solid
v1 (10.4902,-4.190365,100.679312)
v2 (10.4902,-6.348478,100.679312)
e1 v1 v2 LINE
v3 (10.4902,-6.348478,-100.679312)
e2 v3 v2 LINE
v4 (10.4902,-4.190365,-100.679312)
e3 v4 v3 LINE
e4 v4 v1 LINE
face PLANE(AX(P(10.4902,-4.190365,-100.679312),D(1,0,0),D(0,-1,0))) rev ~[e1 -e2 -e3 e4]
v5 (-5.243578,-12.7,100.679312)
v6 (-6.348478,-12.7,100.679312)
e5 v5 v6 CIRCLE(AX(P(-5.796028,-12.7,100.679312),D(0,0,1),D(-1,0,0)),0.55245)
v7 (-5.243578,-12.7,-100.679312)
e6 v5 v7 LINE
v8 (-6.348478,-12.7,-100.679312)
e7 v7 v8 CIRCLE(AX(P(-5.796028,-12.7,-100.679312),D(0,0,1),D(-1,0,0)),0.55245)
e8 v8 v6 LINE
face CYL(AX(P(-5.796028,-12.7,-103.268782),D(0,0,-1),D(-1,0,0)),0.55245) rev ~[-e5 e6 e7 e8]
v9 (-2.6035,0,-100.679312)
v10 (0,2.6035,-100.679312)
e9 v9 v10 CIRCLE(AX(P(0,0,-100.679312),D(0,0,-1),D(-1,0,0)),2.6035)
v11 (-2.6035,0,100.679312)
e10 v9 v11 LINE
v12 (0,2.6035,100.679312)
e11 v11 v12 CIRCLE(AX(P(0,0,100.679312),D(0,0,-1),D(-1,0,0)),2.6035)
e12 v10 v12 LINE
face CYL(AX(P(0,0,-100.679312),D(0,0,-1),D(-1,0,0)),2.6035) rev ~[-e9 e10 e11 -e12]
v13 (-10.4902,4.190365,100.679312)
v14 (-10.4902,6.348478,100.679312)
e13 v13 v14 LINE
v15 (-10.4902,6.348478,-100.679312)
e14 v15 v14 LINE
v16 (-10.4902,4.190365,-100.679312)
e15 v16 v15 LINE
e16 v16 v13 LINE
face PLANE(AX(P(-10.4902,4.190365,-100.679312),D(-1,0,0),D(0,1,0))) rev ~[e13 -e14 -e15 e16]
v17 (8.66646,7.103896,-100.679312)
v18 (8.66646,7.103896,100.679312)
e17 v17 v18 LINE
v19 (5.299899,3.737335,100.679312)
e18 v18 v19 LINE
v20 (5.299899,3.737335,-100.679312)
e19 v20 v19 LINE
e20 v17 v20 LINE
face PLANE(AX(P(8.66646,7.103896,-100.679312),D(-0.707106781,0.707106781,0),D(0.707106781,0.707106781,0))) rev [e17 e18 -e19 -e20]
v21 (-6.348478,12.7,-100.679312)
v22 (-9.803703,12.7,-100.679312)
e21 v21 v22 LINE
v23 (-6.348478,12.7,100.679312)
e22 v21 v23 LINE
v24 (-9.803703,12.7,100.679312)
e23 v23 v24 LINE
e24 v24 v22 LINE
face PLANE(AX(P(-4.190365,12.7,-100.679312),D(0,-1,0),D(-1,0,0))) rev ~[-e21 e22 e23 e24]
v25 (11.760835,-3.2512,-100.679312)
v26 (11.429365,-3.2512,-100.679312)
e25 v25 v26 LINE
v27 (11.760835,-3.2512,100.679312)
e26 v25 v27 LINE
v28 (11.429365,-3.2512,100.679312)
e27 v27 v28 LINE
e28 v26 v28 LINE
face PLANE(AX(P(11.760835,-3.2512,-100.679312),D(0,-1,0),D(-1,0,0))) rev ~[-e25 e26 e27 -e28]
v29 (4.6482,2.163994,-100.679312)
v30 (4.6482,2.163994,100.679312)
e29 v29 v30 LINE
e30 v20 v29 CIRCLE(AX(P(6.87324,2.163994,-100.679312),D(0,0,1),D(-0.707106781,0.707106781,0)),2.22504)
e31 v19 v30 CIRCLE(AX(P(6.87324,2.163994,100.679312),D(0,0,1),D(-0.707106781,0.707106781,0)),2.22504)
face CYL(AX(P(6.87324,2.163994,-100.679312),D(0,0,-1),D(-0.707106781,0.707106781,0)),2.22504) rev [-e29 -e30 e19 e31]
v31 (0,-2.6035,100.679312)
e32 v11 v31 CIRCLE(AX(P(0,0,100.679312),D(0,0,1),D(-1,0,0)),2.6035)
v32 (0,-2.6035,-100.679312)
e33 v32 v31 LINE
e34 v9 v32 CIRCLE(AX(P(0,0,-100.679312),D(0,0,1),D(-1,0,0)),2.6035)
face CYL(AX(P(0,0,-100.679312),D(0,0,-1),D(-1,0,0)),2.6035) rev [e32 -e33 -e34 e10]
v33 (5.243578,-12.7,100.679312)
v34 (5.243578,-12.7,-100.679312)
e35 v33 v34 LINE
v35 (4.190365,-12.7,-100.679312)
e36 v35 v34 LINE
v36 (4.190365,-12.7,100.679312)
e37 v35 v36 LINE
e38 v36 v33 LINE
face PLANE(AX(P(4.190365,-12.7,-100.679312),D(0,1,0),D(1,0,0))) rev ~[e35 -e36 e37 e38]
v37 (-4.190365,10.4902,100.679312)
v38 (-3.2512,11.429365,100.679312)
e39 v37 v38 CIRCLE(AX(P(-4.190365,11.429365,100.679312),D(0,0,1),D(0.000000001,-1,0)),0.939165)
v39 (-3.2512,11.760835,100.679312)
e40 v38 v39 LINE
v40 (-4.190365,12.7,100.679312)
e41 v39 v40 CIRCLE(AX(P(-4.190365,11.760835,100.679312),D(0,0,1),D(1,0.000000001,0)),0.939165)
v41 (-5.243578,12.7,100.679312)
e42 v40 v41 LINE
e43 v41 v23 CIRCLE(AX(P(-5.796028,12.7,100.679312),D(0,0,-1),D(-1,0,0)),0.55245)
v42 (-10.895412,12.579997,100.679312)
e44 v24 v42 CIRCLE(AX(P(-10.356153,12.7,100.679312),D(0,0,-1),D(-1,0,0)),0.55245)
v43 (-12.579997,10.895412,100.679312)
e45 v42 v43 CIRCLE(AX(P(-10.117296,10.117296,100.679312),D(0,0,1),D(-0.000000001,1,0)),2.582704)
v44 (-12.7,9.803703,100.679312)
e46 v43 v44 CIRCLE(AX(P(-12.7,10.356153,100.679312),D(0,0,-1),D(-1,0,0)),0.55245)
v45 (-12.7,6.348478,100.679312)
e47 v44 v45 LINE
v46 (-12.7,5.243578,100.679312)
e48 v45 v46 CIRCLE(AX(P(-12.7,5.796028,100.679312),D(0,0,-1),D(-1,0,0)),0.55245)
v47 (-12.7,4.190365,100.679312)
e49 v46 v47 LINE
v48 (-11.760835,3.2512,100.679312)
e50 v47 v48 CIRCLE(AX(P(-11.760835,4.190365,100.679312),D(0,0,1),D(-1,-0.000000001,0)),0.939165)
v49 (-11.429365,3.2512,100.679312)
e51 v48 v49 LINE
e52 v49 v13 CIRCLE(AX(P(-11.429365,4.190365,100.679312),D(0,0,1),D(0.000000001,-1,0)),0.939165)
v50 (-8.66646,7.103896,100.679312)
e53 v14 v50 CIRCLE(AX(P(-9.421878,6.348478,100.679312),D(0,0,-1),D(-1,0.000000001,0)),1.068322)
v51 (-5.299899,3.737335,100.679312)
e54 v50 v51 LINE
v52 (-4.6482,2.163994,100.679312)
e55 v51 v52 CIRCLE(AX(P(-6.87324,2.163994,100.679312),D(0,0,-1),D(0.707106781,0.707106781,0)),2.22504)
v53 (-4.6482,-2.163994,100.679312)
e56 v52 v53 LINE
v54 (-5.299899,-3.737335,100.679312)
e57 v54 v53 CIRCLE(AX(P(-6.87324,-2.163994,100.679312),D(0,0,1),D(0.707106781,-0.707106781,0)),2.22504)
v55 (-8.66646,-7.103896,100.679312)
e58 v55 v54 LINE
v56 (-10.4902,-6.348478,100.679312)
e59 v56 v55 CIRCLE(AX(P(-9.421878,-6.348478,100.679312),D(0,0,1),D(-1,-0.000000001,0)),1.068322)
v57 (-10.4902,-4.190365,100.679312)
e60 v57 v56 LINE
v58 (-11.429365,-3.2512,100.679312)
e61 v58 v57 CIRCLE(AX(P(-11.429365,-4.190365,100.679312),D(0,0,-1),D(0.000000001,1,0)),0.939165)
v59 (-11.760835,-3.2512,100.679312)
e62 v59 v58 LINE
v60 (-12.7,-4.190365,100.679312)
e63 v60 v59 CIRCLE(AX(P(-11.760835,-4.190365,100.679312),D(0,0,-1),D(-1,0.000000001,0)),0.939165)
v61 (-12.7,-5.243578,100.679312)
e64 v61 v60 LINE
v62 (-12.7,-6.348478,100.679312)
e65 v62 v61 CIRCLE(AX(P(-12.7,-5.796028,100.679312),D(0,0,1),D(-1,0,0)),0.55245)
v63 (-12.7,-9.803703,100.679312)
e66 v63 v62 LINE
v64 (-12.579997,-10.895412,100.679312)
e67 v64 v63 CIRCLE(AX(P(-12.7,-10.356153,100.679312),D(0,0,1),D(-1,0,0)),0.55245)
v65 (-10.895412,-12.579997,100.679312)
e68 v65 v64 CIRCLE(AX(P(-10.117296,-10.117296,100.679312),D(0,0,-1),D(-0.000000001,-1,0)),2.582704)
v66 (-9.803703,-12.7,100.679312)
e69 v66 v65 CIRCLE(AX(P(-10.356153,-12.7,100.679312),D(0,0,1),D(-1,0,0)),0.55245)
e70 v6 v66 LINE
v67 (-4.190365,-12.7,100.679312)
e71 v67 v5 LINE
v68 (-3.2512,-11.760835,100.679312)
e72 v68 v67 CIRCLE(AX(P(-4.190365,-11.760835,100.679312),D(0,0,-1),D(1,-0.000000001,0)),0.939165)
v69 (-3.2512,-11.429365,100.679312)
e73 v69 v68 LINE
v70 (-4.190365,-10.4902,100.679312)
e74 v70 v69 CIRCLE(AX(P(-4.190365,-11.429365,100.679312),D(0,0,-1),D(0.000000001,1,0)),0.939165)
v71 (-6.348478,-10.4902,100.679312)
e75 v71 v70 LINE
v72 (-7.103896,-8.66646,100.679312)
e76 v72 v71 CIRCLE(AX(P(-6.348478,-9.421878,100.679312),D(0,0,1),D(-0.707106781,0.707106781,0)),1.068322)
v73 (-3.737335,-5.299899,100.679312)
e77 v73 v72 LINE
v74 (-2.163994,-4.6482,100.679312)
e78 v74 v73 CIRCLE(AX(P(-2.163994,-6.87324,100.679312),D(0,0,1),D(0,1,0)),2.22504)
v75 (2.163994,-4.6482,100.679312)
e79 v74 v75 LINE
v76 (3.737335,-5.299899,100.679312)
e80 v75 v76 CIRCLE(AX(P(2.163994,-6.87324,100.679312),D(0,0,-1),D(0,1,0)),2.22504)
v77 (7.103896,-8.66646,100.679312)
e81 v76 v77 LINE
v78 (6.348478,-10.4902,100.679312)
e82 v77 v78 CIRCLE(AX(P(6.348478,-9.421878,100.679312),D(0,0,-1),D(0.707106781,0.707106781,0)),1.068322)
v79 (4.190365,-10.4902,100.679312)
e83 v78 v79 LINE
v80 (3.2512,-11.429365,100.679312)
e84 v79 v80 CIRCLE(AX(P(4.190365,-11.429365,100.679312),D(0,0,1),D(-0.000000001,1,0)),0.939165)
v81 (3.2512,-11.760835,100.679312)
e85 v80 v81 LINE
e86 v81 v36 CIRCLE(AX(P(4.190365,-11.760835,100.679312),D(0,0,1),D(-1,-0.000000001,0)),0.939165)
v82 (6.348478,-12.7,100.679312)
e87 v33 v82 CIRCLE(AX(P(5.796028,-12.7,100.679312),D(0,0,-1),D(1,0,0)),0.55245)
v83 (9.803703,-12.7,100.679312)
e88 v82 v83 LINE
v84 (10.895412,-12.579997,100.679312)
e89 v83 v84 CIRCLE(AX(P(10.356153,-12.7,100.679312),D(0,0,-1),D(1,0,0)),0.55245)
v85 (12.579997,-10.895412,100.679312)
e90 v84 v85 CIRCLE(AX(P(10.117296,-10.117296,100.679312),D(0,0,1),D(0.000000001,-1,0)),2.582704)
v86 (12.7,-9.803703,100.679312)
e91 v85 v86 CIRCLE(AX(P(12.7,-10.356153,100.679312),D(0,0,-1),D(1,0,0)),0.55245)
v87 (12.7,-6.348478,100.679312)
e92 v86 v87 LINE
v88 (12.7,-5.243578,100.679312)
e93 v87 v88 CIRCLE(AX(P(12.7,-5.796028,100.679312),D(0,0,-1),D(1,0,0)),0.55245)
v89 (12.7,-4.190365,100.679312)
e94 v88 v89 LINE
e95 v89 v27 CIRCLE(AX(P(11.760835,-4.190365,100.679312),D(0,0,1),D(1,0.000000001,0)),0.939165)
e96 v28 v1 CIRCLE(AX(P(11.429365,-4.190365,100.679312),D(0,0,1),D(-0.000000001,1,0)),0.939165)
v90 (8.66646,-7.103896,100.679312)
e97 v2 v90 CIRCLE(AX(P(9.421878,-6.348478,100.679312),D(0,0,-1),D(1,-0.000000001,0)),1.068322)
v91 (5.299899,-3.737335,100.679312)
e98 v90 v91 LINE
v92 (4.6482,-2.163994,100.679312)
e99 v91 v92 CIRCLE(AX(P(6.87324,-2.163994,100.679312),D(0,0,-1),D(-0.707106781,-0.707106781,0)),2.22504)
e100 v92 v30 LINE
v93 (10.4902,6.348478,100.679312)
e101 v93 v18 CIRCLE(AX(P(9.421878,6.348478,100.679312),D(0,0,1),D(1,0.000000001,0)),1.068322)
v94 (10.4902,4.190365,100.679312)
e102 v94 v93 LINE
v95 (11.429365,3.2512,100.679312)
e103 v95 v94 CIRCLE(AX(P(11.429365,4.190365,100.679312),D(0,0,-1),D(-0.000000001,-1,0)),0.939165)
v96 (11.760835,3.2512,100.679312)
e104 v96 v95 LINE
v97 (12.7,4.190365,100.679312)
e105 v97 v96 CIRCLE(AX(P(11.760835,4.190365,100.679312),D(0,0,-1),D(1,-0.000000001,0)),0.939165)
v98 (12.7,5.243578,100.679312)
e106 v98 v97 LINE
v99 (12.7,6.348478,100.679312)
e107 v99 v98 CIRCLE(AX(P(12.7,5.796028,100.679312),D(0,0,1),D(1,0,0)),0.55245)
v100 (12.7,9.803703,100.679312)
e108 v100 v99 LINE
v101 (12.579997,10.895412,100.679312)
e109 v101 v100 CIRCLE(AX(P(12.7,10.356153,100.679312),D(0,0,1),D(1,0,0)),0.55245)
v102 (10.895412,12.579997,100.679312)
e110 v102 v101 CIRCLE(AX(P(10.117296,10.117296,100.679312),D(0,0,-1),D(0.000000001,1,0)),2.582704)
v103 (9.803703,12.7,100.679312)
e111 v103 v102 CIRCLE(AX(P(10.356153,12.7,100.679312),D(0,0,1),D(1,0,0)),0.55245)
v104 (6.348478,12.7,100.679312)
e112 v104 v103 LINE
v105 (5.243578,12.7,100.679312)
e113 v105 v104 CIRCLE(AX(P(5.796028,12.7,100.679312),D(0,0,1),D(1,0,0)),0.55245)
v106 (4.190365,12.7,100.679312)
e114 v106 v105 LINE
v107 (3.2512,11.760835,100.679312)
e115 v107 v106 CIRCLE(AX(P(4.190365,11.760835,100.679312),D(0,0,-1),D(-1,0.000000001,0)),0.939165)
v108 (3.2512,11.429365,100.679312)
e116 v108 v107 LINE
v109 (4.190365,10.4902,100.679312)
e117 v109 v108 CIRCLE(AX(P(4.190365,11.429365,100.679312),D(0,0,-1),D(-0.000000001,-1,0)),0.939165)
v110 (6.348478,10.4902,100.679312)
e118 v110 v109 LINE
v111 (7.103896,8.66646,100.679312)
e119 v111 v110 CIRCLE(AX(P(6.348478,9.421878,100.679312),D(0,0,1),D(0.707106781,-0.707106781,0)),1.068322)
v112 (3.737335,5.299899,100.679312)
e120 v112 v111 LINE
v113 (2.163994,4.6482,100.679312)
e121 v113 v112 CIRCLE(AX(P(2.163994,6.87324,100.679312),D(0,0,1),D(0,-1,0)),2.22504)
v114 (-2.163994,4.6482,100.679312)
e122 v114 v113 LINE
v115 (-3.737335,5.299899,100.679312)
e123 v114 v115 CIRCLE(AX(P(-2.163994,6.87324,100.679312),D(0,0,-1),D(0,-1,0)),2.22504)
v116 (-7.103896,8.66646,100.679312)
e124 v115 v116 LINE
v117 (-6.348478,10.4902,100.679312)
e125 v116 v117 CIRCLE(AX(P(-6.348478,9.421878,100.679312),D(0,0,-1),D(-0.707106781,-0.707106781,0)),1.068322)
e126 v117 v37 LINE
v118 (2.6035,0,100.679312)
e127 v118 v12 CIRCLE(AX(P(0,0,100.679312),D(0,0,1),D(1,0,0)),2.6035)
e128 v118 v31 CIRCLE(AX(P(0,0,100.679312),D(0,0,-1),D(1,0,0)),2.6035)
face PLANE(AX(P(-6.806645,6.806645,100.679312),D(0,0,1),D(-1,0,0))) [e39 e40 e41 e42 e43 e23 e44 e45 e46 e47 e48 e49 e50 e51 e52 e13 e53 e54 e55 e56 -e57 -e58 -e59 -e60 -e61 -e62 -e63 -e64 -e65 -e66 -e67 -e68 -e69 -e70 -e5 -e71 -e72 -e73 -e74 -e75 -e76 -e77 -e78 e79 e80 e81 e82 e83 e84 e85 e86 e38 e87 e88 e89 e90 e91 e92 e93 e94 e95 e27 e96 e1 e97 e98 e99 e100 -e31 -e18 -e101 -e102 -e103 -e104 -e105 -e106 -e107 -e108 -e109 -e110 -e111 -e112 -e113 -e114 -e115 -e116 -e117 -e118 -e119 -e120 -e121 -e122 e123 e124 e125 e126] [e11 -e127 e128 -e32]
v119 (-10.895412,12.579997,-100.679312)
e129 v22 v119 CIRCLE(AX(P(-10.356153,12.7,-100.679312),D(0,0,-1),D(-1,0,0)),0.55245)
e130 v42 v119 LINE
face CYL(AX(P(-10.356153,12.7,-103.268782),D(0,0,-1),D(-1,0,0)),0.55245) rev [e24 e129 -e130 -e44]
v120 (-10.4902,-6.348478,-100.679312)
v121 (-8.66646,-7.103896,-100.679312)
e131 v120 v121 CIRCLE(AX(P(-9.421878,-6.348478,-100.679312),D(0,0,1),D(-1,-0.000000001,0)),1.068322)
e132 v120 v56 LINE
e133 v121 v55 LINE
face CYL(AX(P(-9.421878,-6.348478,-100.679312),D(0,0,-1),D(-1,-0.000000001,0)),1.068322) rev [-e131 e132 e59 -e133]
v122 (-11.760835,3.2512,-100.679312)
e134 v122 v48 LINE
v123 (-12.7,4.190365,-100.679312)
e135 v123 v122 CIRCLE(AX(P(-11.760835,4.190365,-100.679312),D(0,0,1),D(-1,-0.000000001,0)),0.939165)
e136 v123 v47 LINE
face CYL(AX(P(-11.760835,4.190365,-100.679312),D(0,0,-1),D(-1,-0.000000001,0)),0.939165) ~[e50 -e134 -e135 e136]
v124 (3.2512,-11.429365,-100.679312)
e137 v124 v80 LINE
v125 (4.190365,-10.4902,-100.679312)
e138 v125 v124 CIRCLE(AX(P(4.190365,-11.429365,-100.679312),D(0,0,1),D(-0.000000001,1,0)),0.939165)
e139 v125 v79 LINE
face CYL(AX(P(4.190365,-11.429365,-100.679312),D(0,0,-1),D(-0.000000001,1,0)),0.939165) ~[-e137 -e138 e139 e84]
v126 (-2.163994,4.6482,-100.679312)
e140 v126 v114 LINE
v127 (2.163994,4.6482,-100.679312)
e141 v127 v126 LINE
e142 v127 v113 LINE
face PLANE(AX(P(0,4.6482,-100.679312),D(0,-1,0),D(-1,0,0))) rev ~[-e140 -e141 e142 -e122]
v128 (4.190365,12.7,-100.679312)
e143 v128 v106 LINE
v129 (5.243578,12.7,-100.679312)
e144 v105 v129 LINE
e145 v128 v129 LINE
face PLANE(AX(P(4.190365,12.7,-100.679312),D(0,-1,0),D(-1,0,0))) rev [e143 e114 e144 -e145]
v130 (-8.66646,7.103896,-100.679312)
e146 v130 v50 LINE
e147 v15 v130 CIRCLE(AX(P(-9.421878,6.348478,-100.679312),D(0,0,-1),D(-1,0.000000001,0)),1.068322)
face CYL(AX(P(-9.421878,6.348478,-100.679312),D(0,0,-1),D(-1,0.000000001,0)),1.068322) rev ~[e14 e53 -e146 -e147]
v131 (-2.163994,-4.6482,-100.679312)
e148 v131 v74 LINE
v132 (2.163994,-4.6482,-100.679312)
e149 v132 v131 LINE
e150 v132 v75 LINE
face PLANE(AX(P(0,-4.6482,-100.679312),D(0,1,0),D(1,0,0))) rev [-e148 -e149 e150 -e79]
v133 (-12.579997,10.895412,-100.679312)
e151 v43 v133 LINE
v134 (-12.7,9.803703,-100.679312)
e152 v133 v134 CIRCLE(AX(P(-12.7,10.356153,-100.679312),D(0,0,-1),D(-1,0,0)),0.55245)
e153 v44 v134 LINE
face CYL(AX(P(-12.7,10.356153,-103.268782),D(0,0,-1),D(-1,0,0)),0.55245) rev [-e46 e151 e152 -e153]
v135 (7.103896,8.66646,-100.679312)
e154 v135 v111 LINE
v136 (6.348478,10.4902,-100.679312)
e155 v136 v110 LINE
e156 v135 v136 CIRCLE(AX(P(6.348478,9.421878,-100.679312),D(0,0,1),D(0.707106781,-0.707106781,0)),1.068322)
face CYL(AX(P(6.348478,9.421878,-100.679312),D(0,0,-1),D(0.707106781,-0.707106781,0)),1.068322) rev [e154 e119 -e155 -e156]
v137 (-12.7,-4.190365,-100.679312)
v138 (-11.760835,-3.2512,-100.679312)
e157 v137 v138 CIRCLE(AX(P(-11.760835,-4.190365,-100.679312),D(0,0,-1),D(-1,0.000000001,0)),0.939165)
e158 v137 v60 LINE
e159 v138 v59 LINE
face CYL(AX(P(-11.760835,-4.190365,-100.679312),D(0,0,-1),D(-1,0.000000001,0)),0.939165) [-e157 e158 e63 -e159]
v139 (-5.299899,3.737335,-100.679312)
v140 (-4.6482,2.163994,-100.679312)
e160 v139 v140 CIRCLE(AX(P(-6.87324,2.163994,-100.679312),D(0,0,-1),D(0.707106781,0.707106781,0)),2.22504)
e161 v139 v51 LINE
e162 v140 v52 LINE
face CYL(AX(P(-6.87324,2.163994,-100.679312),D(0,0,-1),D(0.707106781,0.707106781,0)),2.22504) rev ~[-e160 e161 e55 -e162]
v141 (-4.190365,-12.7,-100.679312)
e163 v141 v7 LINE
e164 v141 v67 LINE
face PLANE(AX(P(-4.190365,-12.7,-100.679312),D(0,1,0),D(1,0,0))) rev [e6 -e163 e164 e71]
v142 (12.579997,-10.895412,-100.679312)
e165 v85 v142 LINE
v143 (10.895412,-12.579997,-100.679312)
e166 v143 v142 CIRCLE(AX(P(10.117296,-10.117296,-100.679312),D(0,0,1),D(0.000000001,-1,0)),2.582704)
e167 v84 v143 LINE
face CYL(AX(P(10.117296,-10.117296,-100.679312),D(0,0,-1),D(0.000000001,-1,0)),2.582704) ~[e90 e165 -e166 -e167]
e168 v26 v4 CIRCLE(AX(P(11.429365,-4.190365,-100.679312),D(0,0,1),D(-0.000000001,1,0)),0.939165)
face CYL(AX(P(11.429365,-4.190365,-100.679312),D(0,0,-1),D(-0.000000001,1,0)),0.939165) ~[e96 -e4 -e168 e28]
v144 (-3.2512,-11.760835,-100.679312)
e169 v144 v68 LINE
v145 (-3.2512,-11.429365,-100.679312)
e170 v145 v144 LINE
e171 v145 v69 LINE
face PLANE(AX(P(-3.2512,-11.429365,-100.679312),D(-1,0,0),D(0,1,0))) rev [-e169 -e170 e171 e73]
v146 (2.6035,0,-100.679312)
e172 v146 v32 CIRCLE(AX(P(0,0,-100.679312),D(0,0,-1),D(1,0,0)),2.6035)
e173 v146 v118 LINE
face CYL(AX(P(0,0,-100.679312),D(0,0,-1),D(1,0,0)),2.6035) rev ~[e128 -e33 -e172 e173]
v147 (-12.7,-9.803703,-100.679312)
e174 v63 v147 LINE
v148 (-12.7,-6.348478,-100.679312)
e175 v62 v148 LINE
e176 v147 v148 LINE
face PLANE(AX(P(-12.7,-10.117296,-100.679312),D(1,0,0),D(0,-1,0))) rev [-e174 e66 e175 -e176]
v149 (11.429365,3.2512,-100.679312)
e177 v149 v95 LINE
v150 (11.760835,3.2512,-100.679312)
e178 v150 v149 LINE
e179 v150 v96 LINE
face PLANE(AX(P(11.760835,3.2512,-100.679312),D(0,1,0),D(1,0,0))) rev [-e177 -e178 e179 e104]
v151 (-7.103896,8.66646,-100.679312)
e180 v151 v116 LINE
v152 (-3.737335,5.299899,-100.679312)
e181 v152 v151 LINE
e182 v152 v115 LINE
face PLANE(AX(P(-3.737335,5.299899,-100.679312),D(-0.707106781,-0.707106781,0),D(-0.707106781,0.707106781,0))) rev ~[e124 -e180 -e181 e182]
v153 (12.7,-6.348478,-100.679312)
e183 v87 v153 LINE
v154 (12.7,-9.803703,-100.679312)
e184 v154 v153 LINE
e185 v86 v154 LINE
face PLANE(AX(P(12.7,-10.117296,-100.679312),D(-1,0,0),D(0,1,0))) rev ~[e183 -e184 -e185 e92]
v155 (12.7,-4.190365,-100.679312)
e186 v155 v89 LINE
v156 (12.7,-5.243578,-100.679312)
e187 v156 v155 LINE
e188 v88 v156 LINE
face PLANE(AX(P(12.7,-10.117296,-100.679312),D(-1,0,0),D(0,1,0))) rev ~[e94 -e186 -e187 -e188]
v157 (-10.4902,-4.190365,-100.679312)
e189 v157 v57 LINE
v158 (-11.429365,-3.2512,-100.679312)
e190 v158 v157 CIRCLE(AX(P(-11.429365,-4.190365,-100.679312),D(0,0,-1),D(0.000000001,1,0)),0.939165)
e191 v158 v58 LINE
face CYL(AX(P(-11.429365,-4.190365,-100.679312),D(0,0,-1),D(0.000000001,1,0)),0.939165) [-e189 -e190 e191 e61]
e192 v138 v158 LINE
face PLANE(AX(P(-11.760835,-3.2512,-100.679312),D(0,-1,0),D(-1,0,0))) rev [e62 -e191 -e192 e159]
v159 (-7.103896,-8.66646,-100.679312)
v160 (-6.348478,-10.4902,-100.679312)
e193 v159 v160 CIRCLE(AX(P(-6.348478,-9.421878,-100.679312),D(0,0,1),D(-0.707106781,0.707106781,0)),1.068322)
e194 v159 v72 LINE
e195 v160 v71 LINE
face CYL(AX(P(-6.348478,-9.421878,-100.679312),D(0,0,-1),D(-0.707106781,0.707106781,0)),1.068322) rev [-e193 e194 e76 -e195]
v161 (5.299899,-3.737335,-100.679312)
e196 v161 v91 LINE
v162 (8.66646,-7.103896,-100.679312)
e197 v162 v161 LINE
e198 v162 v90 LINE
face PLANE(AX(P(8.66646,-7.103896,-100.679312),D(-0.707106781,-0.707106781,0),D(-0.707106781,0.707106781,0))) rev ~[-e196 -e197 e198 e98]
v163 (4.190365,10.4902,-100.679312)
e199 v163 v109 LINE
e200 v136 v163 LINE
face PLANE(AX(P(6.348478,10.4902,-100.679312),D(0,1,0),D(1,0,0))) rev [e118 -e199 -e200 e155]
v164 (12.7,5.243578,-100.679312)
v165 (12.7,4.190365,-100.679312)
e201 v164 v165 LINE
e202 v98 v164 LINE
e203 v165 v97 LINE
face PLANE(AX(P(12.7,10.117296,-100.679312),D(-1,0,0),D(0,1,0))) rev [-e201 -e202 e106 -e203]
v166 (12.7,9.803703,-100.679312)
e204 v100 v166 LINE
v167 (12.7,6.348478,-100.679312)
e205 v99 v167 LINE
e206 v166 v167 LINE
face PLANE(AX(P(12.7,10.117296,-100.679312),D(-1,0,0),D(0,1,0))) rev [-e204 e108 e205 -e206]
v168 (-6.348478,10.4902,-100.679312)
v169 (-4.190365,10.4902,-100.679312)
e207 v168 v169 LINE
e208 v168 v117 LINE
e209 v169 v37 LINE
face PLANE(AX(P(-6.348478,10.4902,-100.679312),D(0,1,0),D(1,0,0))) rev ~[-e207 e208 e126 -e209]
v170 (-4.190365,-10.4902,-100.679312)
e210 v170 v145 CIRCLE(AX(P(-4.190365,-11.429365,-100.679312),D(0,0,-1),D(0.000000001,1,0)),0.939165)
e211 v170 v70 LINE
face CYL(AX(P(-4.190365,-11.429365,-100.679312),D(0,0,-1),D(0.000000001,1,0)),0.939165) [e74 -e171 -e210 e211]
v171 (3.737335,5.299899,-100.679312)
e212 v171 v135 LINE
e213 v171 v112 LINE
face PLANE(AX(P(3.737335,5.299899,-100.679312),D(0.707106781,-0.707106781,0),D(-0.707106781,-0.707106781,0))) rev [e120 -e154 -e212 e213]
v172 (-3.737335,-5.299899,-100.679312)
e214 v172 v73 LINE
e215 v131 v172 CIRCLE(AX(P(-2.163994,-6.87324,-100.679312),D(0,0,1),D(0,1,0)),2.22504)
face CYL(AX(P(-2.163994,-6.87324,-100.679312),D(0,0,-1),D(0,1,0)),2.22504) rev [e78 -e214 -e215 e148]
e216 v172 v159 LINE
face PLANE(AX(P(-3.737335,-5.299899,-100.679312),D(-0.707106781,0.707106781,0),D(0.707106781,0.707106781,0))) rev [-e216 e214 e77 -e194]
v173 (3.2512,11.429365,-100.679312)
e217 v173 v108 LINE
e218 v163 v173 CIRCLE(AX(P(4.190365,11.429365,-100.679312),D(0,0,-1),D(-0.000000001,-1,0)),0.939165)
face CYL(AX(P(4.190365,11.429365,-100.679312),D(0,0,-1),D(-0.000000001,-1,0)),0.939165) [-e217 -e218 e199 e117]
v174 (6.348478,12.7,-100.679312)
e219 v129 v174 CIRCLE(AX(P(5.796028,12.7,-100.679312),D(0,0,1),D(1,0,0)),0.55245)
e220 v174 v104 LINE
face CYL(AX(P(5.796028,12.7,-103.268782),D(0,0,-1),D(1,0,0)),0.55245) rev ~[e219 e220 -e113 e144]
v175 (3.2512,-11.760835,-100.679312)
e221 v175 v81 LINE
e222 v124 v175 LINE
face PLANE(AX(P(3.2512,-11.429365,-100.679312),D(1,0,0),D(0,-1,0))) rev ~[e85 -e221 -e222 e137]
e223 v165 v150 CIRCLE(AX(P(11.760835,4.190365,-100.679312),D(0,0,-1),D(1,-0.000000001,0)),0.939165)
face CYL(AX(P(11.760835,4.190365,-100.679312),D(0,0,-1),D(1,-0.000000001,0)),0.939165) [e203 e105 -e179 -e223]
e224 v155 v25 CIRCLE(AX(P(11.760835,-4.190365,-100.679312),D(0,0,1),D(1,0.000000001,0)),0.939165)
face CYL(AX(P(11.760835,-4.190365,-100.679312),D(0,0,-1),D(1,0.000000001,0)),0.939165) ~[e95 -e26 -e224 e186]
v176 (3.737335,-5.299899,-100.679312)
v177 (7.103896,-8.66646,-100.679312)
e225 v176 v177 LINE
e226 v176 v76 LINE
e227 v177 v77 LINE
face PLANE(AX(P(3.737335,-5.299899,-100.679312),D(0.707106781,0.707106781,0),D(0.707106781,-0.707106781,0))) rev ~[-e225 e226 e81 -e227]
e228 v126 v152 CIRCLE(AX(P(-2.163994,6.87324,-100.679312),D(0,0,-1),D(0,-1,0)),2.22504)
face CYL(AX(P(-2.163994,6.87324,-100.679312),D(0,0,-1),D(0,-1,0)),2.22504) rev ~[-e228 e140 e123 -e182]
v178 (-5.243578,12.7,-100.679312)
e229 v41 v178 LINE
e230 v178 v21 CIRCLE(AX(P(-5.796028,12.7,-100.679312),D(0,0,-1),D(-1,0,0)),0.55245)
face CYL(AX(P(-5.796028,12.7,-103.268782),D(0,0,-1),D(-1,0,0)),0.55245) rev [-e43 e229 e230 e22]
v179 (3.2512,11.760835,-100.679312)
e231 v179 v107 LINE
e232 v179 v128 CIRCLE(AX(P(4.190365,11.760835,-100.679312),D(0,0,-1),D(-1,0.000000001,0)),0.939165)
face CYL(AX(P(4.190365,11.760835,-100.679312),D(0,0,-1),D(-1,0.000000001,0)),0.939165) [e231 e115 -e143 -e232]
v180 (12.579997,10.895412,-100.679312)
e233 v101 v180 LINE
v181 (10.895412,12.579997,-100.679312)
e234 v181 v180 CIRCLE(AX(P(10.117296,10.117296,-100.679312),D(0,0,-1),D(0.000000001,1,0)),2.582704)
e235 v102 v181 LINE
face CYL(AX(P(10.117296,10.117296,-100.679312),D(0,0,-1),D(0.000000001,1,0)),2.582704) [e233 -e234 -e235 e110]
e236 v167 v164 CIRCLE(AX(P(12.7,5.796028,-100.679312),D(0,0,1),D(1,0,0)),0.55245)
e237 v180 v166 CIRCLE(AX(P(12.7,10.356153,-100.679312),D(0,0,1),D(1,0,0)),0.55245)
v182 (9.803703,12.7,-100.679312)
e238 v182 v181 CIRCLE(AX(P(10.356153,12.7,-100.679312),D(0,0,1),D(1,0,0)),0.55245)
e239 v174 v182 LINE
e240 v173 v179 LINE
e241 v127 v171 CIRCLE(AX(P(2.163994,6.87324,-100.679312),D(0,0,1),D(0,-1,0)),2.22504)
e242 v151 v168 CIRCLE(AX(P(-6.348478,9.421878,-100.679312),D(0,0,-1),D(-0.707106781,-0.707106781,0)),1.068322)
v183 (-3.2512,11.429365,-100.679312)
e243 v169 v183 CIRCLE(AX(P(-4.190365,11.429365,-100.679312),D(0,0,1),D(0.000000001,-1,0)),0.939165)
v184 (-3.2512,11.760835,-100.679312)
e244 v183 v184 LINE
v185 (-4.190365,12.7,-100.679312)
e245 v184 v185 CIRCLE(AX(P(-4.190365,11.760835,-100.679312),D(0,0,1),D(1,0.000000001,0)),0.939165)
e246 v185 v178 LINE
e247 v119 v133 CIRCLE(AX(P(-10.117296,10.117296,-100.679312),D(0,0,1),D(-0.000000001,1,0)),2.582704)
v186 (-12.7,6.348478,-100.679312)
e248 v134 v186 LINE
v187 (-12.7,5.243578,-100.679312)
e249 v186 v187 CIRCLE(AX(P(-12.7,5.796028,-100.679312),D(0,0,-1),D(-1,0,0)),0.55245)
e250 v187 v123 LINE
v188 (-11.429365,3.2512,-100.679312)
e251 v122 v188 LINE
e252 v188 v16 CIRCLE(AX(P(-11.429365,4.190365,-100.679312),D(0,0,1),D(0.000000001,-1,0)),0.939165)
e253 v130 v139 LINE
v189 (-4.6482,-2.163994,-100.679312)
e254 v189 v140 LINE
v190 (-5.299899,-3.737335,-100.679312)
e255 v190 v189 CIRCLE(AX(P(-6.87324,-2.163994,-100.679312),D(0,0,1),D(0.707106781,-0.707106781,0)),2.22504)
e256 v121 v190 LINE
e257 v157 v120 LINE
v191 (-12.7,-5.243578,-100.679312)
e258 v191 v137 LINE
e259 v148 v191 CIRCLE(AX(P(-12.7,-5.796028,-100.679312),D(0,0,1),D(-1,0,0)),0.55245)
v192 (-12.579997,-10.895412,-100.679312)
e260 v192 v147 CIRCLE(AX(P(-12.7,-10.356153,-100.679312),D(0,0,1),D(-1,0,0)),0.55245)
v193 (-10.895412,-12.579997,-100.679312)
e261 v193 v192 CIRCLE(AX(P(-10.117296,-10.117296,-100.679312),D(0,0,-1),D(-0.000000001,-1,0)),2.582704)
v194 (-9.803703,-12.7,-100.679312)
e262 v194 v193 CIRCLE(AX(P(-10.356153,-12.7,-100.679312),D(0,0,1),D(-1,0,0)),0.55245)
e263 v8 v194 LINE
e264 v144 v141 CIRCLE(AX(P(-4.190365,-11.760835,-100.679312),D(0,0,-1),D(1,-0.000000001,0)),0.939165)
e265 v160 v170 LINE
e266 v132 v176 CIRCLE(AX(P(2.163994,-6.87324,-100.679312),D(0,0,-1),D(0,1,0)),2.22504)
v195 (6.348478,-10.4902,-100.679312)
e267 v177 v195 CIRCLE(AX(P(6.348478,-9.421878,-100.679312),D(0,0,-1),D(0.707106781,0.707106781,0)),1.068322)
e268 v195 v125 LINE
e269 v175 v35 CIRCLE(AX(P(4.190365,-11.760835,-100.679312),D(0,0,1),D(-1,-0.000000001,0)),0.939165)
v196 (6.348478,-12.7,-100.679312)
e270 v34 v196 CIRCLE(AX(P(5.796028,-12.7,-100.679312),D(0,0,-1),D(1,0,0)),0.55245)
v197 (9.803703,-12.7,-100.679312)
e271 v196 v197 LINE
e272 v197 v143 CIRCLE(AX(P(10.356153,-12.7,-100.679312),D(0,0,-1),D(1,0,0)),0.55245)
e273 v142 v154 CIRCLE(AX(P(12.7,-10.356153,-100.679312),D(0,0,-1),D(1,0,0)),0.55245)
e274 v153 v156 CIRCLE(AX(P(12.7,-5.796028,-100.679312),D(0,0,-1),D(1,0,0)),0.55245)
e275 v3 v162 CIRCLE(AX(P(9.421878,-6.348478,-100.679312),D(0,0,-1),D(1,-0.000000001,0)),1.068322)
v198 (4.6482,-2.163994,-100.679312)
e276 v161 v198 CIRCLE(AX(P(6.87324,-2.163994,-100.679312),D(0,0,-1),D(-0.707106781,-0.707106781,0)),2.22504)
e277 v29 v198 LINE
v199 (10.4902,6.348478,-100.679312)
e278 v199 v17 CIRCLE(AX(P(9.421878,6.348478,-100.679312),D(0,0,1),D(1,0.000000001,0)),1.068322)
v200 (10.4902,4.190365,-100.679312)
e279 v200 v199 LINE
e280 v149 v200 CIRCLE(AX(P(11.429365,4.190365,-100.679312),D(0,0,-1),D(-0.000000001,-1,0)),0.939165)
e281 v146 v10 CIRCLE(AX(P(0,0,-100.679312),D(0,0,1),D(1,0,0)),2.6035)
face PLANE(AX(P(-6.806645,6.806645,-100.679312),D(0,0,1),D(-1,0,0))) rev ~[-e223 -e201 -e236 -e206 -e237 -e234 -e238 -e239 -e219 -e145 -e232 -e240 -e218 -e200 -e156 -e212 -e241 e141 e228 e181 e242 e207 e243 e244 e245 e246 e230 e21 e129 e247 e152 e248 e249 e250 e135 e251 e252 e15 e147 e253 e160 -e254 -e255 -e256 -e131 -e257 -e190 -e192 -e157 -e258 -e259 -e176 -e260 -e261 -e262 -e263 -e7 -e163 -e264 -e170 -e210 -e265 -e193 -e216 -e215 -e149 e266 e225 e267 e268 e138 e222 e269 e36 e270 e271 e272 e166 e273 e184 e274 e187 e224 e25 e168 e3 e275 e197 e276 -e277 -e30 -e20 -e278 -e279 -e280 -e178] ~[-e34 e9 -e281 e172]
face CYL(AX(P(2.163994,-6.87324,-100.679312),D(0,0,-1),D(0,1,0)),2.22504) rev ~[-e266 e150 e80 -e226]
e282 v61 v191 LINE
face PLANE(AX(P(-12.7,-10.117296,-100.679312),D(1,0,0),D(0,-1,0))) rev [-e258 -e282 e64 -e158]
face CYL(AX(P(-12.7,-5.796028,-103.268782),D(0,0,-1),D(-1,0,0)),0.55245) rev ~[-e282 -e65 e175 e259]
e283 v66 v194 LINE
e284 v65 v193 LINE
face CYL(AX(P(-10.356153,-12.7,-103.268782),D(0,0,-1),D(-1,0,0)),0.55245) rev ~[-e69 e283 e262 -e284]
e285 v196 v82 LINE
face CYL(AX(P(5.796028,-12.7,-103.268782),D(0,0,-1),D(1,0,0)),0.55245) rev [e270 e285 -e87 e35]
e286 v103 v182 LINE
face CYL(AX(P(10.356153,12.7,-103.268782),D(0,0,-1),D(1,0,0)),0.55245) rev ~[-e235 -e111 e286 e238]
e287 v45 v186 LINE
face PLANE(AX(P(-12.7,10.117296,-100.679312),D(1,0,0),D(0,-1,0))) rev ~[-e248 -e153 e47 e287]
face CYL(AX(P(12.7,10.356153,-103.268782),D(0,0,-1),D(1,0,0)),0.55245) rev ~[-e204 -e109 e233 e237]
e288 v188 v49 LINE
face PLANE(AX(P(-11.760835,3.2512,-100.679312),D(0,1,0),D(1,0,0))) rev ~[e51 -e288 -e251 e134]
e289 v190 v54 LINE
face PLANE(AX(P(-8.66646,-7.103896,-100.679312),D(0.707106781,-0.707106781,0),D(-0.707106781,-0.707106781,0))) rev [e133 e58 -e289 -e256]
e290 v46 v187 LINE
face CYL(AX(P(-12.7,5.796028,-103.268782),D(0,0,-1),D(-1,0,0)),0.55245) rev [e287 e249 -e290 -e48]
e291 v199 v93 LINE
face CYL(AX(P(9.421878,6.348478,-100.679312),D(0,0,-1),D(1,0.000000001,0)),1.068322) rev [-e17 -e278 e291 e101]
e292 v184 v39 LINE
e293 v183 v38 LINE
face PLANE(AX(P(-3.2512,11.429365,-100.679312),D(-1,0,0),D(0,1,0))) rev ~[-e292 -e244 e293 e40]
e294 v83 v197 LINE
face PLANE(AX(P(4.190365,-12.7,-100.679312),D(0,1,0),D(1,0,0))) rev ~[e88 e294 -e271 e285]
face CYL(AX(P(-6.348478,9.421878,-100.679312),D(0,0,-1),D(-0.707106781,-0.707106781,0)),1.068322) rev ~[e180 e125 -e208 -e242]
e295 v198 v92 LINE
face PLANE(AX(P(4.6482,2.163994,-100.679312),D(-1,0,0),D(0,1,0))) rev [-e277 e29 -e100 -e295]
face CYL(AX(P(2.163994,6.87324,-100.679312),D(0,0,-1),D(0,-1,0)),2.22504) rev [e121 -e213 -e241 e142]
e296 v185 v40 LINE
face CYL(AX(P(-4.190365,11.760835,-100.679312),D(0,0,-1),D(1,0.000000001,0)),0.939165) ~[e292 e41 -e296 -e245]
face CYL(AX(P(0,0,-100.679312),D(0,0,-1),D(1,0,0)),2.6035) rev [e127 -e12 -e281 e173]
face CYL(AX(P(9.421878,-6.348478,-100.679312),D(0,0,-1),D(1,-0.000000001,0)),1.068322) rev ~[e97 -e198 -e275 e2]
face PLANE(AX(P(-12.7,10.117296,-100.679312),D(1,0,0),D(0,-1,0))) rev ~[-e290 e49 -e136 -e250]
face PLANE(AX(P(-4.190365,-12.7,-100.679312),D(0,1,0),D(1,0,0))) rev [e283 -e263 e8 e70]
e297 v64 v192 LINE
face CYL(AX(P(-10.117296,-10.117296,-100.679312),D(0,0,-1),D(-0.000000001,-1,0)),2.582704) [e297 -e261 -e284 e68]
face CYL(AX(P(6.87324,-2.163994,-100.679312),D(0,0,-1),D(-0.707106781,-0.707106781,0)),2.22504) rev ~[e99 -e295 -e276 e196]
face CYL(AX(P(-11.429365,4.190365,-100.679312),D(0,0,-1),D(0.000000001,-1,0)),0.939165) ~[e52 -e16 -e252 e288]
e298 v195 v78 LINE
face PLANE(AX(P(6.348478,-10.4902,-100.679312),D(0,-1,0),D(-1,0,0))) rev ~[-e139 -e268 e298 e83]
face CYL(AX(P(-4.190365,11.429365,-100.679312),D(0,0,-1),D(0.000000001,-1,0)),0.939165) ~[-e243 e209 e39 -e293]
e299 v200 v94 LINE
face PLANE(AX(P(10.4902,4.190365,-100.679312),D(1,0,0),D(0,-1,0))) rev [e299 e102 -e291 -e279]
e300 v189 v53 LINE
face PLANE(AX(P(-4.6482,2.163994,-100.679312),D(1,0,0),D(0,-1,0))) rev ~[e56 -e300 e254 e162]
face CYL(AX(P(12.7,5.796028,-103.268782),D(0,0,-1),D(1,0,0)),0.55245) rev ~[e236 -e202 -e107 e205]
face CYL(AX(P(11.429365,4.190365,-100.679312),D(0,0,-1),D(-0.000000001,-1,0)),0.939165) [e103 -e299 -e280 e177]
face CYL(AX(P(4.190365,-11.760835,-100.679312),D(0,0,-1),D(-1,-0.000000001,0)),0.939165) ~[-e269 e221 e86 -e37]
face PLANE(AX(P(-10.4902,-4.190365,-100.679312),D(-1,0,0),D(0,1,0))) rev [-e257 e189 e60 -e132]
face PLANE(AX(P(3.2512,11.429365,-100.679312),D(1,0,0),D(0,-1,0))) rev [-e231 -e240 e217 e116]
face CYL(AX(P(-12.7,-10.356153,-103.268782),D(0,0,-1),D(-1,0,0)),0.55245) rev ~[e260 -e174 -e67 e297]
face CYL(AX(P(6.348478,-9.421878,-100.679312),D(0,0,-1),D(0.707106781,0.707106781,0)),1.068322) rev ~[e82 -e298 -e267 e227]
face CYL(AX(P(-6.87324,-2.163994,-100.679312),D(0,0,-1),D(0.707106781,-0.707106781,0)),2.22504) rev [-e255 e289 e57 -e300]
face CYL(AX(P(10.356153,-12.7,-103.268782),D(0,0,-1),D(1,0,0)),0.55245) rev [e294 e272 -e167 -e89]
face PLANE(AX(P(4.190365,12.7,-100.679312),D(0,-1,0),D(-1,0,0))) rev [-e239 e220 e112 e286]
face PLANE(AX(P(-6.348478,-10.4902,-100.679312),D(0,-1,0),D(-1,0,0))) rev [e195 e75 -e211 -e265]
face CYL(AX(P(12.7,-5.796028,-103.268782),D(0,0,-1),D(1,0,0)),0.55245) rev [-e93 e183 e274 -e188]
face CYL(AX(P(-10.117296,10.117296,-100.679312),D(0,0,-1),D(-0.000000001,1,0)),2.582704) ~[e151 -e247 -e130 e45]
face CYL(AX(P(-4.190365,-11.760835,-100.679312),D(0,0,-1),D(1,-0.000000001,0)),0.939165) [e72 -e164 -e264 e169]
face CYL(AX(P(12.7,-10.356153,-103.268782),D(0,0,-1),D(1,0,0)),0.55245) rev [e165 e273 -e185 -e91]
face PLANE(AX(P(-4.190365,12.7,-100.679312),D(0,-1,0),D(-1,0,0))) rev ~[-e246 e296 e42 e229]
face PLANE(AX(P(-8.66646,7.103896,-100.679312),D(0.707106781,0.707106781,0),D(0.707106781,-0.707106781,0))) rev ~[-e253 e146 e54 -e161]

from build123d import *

# Parameters (mm, degrees)
BOSS_EXTRUDE1_START     = -100.679312
BOSS_EXTRUDE1_DEPTH     = 201.358624
CUT_EXTRUDE1_DEPTH      = 103.268782455
CUT_EXTRUDE1_DEPTH_BACK = 103.268782455
SKETCH5_R               = 0.55245


with BuildPart() as part:
    # Sketch4 → Boss-Extrude1 (new body)
    with BuildSketch(Plane.XY.offset(BOSS_EXTRUDE1_START)):
        with BuildLine():
            Line((4.190365, -12.7), (10.11729625, -12.7))
            ThreePointArc((10.11729625, -12.7), (11.943543585, -11.943543585), (12.7, -10.11729625))
            Line((12.7, -10.11729625), (12.7, -4.190365))
            ThreePointArc((12.7, -4.190365), (12.42492494, -3.52627506), (11.760835, -3.2512))
            Line((11.760835, -3.2512), (11.429365, -3.2512))
            ThreePointArc((11.429365, -3.2512), (10.76527506, -3.52627506), (10.4902, -4.190365))
            Line((10.4902, -4.190365), (10.4902, -6.348478019))
            ThreePointArc((10.4902, -6.348478019), (9.830707141, -7.335478831), (8.666460301, -7.103895736))
            Line((8.666460301, -7.103895736), (5.299899128, -3.737334563))
            ThreePointArc((5.299899128, -3.737334563), (4.817571085, -3.015479634), (4.6482, -2.16399369))
            Line((4.6482, -2.16399369), (4.6482, 0))
            Line((4.6482, 0), (2.6035, 0))
            ThreePointArc((2.6035, 0), (1.840952505, -1.840952505), (0, -2.6035))
            Line((0, -2.6035), (0, -4.6482))
            Line((0, -4.6482), (2.16399369, -4.6482))
            ThreePointArc((2.16399369, -4.6482), (3.015479634, -4.817571085), (3.737334563, -5.299899128))
            Line((3.737334563, -5.299899128), (7.103895736, -8.666460301))
            ThreePointArc((7.103895736, -8.666460301), (7.335478831, -9.830707141), (6.348478019, -10.4902))
            Line((6.348478019, -10.4902), (4.190365, -10.4902))
            ThreePointArc((4.190365, -10.4902), (3.52627506, -10.76527506), (3.2512, -11.429365))
            Line((3.2512, -11.429365), (3.2512, -11.760835))
            ThreePointArc((3.2512, -11.760835), (3.52627506, -12.42492494), (4.190365, -12.7))
        make_face()
    extrude(amount=BOSS_EXTRUDE1_DEPTH)

    # Sketch5 → Cut-Extrude1 (cut, two sides: drawn at the far end of the back side and taken through both)
    with BuildSketch(Plane.XY.offset(-CUT_EXTRUDE1_DEPTH_BACK)):
        with Locations((10.356153152, -12.7)):
            Circle(SKETCH5_R)
        with Locations((5.796028019, -12.7)):
            Circle(SKETCH5_R)
        with Locations((12.7, -10.356153152)):
            Circle(SKETCH5_R)
        with Locations((12.7, -5.796028019)):
            Circle(SKETCH5_R)
    extrude(amount=CUT_EXTRUDE1_DEPTH + CUT_EXTRUDE1_DEPTH_BACK, mode=Mode.SUBTRACT)

    # Mirror1: part across plane


with BuildPart() as part_1:
    add(part.part)
    add(part.part.mirror(Plane(origin=(0, 0, 0), x_dir=(0, 0, 1), z_dir=(1, 0, 0))))

    # Mirror2: part across plane


with BuildPart() as part_2:
    add(part_1.part)
    add(part_1.part.mirror(Plane.ZX))


solid = part_2.part
